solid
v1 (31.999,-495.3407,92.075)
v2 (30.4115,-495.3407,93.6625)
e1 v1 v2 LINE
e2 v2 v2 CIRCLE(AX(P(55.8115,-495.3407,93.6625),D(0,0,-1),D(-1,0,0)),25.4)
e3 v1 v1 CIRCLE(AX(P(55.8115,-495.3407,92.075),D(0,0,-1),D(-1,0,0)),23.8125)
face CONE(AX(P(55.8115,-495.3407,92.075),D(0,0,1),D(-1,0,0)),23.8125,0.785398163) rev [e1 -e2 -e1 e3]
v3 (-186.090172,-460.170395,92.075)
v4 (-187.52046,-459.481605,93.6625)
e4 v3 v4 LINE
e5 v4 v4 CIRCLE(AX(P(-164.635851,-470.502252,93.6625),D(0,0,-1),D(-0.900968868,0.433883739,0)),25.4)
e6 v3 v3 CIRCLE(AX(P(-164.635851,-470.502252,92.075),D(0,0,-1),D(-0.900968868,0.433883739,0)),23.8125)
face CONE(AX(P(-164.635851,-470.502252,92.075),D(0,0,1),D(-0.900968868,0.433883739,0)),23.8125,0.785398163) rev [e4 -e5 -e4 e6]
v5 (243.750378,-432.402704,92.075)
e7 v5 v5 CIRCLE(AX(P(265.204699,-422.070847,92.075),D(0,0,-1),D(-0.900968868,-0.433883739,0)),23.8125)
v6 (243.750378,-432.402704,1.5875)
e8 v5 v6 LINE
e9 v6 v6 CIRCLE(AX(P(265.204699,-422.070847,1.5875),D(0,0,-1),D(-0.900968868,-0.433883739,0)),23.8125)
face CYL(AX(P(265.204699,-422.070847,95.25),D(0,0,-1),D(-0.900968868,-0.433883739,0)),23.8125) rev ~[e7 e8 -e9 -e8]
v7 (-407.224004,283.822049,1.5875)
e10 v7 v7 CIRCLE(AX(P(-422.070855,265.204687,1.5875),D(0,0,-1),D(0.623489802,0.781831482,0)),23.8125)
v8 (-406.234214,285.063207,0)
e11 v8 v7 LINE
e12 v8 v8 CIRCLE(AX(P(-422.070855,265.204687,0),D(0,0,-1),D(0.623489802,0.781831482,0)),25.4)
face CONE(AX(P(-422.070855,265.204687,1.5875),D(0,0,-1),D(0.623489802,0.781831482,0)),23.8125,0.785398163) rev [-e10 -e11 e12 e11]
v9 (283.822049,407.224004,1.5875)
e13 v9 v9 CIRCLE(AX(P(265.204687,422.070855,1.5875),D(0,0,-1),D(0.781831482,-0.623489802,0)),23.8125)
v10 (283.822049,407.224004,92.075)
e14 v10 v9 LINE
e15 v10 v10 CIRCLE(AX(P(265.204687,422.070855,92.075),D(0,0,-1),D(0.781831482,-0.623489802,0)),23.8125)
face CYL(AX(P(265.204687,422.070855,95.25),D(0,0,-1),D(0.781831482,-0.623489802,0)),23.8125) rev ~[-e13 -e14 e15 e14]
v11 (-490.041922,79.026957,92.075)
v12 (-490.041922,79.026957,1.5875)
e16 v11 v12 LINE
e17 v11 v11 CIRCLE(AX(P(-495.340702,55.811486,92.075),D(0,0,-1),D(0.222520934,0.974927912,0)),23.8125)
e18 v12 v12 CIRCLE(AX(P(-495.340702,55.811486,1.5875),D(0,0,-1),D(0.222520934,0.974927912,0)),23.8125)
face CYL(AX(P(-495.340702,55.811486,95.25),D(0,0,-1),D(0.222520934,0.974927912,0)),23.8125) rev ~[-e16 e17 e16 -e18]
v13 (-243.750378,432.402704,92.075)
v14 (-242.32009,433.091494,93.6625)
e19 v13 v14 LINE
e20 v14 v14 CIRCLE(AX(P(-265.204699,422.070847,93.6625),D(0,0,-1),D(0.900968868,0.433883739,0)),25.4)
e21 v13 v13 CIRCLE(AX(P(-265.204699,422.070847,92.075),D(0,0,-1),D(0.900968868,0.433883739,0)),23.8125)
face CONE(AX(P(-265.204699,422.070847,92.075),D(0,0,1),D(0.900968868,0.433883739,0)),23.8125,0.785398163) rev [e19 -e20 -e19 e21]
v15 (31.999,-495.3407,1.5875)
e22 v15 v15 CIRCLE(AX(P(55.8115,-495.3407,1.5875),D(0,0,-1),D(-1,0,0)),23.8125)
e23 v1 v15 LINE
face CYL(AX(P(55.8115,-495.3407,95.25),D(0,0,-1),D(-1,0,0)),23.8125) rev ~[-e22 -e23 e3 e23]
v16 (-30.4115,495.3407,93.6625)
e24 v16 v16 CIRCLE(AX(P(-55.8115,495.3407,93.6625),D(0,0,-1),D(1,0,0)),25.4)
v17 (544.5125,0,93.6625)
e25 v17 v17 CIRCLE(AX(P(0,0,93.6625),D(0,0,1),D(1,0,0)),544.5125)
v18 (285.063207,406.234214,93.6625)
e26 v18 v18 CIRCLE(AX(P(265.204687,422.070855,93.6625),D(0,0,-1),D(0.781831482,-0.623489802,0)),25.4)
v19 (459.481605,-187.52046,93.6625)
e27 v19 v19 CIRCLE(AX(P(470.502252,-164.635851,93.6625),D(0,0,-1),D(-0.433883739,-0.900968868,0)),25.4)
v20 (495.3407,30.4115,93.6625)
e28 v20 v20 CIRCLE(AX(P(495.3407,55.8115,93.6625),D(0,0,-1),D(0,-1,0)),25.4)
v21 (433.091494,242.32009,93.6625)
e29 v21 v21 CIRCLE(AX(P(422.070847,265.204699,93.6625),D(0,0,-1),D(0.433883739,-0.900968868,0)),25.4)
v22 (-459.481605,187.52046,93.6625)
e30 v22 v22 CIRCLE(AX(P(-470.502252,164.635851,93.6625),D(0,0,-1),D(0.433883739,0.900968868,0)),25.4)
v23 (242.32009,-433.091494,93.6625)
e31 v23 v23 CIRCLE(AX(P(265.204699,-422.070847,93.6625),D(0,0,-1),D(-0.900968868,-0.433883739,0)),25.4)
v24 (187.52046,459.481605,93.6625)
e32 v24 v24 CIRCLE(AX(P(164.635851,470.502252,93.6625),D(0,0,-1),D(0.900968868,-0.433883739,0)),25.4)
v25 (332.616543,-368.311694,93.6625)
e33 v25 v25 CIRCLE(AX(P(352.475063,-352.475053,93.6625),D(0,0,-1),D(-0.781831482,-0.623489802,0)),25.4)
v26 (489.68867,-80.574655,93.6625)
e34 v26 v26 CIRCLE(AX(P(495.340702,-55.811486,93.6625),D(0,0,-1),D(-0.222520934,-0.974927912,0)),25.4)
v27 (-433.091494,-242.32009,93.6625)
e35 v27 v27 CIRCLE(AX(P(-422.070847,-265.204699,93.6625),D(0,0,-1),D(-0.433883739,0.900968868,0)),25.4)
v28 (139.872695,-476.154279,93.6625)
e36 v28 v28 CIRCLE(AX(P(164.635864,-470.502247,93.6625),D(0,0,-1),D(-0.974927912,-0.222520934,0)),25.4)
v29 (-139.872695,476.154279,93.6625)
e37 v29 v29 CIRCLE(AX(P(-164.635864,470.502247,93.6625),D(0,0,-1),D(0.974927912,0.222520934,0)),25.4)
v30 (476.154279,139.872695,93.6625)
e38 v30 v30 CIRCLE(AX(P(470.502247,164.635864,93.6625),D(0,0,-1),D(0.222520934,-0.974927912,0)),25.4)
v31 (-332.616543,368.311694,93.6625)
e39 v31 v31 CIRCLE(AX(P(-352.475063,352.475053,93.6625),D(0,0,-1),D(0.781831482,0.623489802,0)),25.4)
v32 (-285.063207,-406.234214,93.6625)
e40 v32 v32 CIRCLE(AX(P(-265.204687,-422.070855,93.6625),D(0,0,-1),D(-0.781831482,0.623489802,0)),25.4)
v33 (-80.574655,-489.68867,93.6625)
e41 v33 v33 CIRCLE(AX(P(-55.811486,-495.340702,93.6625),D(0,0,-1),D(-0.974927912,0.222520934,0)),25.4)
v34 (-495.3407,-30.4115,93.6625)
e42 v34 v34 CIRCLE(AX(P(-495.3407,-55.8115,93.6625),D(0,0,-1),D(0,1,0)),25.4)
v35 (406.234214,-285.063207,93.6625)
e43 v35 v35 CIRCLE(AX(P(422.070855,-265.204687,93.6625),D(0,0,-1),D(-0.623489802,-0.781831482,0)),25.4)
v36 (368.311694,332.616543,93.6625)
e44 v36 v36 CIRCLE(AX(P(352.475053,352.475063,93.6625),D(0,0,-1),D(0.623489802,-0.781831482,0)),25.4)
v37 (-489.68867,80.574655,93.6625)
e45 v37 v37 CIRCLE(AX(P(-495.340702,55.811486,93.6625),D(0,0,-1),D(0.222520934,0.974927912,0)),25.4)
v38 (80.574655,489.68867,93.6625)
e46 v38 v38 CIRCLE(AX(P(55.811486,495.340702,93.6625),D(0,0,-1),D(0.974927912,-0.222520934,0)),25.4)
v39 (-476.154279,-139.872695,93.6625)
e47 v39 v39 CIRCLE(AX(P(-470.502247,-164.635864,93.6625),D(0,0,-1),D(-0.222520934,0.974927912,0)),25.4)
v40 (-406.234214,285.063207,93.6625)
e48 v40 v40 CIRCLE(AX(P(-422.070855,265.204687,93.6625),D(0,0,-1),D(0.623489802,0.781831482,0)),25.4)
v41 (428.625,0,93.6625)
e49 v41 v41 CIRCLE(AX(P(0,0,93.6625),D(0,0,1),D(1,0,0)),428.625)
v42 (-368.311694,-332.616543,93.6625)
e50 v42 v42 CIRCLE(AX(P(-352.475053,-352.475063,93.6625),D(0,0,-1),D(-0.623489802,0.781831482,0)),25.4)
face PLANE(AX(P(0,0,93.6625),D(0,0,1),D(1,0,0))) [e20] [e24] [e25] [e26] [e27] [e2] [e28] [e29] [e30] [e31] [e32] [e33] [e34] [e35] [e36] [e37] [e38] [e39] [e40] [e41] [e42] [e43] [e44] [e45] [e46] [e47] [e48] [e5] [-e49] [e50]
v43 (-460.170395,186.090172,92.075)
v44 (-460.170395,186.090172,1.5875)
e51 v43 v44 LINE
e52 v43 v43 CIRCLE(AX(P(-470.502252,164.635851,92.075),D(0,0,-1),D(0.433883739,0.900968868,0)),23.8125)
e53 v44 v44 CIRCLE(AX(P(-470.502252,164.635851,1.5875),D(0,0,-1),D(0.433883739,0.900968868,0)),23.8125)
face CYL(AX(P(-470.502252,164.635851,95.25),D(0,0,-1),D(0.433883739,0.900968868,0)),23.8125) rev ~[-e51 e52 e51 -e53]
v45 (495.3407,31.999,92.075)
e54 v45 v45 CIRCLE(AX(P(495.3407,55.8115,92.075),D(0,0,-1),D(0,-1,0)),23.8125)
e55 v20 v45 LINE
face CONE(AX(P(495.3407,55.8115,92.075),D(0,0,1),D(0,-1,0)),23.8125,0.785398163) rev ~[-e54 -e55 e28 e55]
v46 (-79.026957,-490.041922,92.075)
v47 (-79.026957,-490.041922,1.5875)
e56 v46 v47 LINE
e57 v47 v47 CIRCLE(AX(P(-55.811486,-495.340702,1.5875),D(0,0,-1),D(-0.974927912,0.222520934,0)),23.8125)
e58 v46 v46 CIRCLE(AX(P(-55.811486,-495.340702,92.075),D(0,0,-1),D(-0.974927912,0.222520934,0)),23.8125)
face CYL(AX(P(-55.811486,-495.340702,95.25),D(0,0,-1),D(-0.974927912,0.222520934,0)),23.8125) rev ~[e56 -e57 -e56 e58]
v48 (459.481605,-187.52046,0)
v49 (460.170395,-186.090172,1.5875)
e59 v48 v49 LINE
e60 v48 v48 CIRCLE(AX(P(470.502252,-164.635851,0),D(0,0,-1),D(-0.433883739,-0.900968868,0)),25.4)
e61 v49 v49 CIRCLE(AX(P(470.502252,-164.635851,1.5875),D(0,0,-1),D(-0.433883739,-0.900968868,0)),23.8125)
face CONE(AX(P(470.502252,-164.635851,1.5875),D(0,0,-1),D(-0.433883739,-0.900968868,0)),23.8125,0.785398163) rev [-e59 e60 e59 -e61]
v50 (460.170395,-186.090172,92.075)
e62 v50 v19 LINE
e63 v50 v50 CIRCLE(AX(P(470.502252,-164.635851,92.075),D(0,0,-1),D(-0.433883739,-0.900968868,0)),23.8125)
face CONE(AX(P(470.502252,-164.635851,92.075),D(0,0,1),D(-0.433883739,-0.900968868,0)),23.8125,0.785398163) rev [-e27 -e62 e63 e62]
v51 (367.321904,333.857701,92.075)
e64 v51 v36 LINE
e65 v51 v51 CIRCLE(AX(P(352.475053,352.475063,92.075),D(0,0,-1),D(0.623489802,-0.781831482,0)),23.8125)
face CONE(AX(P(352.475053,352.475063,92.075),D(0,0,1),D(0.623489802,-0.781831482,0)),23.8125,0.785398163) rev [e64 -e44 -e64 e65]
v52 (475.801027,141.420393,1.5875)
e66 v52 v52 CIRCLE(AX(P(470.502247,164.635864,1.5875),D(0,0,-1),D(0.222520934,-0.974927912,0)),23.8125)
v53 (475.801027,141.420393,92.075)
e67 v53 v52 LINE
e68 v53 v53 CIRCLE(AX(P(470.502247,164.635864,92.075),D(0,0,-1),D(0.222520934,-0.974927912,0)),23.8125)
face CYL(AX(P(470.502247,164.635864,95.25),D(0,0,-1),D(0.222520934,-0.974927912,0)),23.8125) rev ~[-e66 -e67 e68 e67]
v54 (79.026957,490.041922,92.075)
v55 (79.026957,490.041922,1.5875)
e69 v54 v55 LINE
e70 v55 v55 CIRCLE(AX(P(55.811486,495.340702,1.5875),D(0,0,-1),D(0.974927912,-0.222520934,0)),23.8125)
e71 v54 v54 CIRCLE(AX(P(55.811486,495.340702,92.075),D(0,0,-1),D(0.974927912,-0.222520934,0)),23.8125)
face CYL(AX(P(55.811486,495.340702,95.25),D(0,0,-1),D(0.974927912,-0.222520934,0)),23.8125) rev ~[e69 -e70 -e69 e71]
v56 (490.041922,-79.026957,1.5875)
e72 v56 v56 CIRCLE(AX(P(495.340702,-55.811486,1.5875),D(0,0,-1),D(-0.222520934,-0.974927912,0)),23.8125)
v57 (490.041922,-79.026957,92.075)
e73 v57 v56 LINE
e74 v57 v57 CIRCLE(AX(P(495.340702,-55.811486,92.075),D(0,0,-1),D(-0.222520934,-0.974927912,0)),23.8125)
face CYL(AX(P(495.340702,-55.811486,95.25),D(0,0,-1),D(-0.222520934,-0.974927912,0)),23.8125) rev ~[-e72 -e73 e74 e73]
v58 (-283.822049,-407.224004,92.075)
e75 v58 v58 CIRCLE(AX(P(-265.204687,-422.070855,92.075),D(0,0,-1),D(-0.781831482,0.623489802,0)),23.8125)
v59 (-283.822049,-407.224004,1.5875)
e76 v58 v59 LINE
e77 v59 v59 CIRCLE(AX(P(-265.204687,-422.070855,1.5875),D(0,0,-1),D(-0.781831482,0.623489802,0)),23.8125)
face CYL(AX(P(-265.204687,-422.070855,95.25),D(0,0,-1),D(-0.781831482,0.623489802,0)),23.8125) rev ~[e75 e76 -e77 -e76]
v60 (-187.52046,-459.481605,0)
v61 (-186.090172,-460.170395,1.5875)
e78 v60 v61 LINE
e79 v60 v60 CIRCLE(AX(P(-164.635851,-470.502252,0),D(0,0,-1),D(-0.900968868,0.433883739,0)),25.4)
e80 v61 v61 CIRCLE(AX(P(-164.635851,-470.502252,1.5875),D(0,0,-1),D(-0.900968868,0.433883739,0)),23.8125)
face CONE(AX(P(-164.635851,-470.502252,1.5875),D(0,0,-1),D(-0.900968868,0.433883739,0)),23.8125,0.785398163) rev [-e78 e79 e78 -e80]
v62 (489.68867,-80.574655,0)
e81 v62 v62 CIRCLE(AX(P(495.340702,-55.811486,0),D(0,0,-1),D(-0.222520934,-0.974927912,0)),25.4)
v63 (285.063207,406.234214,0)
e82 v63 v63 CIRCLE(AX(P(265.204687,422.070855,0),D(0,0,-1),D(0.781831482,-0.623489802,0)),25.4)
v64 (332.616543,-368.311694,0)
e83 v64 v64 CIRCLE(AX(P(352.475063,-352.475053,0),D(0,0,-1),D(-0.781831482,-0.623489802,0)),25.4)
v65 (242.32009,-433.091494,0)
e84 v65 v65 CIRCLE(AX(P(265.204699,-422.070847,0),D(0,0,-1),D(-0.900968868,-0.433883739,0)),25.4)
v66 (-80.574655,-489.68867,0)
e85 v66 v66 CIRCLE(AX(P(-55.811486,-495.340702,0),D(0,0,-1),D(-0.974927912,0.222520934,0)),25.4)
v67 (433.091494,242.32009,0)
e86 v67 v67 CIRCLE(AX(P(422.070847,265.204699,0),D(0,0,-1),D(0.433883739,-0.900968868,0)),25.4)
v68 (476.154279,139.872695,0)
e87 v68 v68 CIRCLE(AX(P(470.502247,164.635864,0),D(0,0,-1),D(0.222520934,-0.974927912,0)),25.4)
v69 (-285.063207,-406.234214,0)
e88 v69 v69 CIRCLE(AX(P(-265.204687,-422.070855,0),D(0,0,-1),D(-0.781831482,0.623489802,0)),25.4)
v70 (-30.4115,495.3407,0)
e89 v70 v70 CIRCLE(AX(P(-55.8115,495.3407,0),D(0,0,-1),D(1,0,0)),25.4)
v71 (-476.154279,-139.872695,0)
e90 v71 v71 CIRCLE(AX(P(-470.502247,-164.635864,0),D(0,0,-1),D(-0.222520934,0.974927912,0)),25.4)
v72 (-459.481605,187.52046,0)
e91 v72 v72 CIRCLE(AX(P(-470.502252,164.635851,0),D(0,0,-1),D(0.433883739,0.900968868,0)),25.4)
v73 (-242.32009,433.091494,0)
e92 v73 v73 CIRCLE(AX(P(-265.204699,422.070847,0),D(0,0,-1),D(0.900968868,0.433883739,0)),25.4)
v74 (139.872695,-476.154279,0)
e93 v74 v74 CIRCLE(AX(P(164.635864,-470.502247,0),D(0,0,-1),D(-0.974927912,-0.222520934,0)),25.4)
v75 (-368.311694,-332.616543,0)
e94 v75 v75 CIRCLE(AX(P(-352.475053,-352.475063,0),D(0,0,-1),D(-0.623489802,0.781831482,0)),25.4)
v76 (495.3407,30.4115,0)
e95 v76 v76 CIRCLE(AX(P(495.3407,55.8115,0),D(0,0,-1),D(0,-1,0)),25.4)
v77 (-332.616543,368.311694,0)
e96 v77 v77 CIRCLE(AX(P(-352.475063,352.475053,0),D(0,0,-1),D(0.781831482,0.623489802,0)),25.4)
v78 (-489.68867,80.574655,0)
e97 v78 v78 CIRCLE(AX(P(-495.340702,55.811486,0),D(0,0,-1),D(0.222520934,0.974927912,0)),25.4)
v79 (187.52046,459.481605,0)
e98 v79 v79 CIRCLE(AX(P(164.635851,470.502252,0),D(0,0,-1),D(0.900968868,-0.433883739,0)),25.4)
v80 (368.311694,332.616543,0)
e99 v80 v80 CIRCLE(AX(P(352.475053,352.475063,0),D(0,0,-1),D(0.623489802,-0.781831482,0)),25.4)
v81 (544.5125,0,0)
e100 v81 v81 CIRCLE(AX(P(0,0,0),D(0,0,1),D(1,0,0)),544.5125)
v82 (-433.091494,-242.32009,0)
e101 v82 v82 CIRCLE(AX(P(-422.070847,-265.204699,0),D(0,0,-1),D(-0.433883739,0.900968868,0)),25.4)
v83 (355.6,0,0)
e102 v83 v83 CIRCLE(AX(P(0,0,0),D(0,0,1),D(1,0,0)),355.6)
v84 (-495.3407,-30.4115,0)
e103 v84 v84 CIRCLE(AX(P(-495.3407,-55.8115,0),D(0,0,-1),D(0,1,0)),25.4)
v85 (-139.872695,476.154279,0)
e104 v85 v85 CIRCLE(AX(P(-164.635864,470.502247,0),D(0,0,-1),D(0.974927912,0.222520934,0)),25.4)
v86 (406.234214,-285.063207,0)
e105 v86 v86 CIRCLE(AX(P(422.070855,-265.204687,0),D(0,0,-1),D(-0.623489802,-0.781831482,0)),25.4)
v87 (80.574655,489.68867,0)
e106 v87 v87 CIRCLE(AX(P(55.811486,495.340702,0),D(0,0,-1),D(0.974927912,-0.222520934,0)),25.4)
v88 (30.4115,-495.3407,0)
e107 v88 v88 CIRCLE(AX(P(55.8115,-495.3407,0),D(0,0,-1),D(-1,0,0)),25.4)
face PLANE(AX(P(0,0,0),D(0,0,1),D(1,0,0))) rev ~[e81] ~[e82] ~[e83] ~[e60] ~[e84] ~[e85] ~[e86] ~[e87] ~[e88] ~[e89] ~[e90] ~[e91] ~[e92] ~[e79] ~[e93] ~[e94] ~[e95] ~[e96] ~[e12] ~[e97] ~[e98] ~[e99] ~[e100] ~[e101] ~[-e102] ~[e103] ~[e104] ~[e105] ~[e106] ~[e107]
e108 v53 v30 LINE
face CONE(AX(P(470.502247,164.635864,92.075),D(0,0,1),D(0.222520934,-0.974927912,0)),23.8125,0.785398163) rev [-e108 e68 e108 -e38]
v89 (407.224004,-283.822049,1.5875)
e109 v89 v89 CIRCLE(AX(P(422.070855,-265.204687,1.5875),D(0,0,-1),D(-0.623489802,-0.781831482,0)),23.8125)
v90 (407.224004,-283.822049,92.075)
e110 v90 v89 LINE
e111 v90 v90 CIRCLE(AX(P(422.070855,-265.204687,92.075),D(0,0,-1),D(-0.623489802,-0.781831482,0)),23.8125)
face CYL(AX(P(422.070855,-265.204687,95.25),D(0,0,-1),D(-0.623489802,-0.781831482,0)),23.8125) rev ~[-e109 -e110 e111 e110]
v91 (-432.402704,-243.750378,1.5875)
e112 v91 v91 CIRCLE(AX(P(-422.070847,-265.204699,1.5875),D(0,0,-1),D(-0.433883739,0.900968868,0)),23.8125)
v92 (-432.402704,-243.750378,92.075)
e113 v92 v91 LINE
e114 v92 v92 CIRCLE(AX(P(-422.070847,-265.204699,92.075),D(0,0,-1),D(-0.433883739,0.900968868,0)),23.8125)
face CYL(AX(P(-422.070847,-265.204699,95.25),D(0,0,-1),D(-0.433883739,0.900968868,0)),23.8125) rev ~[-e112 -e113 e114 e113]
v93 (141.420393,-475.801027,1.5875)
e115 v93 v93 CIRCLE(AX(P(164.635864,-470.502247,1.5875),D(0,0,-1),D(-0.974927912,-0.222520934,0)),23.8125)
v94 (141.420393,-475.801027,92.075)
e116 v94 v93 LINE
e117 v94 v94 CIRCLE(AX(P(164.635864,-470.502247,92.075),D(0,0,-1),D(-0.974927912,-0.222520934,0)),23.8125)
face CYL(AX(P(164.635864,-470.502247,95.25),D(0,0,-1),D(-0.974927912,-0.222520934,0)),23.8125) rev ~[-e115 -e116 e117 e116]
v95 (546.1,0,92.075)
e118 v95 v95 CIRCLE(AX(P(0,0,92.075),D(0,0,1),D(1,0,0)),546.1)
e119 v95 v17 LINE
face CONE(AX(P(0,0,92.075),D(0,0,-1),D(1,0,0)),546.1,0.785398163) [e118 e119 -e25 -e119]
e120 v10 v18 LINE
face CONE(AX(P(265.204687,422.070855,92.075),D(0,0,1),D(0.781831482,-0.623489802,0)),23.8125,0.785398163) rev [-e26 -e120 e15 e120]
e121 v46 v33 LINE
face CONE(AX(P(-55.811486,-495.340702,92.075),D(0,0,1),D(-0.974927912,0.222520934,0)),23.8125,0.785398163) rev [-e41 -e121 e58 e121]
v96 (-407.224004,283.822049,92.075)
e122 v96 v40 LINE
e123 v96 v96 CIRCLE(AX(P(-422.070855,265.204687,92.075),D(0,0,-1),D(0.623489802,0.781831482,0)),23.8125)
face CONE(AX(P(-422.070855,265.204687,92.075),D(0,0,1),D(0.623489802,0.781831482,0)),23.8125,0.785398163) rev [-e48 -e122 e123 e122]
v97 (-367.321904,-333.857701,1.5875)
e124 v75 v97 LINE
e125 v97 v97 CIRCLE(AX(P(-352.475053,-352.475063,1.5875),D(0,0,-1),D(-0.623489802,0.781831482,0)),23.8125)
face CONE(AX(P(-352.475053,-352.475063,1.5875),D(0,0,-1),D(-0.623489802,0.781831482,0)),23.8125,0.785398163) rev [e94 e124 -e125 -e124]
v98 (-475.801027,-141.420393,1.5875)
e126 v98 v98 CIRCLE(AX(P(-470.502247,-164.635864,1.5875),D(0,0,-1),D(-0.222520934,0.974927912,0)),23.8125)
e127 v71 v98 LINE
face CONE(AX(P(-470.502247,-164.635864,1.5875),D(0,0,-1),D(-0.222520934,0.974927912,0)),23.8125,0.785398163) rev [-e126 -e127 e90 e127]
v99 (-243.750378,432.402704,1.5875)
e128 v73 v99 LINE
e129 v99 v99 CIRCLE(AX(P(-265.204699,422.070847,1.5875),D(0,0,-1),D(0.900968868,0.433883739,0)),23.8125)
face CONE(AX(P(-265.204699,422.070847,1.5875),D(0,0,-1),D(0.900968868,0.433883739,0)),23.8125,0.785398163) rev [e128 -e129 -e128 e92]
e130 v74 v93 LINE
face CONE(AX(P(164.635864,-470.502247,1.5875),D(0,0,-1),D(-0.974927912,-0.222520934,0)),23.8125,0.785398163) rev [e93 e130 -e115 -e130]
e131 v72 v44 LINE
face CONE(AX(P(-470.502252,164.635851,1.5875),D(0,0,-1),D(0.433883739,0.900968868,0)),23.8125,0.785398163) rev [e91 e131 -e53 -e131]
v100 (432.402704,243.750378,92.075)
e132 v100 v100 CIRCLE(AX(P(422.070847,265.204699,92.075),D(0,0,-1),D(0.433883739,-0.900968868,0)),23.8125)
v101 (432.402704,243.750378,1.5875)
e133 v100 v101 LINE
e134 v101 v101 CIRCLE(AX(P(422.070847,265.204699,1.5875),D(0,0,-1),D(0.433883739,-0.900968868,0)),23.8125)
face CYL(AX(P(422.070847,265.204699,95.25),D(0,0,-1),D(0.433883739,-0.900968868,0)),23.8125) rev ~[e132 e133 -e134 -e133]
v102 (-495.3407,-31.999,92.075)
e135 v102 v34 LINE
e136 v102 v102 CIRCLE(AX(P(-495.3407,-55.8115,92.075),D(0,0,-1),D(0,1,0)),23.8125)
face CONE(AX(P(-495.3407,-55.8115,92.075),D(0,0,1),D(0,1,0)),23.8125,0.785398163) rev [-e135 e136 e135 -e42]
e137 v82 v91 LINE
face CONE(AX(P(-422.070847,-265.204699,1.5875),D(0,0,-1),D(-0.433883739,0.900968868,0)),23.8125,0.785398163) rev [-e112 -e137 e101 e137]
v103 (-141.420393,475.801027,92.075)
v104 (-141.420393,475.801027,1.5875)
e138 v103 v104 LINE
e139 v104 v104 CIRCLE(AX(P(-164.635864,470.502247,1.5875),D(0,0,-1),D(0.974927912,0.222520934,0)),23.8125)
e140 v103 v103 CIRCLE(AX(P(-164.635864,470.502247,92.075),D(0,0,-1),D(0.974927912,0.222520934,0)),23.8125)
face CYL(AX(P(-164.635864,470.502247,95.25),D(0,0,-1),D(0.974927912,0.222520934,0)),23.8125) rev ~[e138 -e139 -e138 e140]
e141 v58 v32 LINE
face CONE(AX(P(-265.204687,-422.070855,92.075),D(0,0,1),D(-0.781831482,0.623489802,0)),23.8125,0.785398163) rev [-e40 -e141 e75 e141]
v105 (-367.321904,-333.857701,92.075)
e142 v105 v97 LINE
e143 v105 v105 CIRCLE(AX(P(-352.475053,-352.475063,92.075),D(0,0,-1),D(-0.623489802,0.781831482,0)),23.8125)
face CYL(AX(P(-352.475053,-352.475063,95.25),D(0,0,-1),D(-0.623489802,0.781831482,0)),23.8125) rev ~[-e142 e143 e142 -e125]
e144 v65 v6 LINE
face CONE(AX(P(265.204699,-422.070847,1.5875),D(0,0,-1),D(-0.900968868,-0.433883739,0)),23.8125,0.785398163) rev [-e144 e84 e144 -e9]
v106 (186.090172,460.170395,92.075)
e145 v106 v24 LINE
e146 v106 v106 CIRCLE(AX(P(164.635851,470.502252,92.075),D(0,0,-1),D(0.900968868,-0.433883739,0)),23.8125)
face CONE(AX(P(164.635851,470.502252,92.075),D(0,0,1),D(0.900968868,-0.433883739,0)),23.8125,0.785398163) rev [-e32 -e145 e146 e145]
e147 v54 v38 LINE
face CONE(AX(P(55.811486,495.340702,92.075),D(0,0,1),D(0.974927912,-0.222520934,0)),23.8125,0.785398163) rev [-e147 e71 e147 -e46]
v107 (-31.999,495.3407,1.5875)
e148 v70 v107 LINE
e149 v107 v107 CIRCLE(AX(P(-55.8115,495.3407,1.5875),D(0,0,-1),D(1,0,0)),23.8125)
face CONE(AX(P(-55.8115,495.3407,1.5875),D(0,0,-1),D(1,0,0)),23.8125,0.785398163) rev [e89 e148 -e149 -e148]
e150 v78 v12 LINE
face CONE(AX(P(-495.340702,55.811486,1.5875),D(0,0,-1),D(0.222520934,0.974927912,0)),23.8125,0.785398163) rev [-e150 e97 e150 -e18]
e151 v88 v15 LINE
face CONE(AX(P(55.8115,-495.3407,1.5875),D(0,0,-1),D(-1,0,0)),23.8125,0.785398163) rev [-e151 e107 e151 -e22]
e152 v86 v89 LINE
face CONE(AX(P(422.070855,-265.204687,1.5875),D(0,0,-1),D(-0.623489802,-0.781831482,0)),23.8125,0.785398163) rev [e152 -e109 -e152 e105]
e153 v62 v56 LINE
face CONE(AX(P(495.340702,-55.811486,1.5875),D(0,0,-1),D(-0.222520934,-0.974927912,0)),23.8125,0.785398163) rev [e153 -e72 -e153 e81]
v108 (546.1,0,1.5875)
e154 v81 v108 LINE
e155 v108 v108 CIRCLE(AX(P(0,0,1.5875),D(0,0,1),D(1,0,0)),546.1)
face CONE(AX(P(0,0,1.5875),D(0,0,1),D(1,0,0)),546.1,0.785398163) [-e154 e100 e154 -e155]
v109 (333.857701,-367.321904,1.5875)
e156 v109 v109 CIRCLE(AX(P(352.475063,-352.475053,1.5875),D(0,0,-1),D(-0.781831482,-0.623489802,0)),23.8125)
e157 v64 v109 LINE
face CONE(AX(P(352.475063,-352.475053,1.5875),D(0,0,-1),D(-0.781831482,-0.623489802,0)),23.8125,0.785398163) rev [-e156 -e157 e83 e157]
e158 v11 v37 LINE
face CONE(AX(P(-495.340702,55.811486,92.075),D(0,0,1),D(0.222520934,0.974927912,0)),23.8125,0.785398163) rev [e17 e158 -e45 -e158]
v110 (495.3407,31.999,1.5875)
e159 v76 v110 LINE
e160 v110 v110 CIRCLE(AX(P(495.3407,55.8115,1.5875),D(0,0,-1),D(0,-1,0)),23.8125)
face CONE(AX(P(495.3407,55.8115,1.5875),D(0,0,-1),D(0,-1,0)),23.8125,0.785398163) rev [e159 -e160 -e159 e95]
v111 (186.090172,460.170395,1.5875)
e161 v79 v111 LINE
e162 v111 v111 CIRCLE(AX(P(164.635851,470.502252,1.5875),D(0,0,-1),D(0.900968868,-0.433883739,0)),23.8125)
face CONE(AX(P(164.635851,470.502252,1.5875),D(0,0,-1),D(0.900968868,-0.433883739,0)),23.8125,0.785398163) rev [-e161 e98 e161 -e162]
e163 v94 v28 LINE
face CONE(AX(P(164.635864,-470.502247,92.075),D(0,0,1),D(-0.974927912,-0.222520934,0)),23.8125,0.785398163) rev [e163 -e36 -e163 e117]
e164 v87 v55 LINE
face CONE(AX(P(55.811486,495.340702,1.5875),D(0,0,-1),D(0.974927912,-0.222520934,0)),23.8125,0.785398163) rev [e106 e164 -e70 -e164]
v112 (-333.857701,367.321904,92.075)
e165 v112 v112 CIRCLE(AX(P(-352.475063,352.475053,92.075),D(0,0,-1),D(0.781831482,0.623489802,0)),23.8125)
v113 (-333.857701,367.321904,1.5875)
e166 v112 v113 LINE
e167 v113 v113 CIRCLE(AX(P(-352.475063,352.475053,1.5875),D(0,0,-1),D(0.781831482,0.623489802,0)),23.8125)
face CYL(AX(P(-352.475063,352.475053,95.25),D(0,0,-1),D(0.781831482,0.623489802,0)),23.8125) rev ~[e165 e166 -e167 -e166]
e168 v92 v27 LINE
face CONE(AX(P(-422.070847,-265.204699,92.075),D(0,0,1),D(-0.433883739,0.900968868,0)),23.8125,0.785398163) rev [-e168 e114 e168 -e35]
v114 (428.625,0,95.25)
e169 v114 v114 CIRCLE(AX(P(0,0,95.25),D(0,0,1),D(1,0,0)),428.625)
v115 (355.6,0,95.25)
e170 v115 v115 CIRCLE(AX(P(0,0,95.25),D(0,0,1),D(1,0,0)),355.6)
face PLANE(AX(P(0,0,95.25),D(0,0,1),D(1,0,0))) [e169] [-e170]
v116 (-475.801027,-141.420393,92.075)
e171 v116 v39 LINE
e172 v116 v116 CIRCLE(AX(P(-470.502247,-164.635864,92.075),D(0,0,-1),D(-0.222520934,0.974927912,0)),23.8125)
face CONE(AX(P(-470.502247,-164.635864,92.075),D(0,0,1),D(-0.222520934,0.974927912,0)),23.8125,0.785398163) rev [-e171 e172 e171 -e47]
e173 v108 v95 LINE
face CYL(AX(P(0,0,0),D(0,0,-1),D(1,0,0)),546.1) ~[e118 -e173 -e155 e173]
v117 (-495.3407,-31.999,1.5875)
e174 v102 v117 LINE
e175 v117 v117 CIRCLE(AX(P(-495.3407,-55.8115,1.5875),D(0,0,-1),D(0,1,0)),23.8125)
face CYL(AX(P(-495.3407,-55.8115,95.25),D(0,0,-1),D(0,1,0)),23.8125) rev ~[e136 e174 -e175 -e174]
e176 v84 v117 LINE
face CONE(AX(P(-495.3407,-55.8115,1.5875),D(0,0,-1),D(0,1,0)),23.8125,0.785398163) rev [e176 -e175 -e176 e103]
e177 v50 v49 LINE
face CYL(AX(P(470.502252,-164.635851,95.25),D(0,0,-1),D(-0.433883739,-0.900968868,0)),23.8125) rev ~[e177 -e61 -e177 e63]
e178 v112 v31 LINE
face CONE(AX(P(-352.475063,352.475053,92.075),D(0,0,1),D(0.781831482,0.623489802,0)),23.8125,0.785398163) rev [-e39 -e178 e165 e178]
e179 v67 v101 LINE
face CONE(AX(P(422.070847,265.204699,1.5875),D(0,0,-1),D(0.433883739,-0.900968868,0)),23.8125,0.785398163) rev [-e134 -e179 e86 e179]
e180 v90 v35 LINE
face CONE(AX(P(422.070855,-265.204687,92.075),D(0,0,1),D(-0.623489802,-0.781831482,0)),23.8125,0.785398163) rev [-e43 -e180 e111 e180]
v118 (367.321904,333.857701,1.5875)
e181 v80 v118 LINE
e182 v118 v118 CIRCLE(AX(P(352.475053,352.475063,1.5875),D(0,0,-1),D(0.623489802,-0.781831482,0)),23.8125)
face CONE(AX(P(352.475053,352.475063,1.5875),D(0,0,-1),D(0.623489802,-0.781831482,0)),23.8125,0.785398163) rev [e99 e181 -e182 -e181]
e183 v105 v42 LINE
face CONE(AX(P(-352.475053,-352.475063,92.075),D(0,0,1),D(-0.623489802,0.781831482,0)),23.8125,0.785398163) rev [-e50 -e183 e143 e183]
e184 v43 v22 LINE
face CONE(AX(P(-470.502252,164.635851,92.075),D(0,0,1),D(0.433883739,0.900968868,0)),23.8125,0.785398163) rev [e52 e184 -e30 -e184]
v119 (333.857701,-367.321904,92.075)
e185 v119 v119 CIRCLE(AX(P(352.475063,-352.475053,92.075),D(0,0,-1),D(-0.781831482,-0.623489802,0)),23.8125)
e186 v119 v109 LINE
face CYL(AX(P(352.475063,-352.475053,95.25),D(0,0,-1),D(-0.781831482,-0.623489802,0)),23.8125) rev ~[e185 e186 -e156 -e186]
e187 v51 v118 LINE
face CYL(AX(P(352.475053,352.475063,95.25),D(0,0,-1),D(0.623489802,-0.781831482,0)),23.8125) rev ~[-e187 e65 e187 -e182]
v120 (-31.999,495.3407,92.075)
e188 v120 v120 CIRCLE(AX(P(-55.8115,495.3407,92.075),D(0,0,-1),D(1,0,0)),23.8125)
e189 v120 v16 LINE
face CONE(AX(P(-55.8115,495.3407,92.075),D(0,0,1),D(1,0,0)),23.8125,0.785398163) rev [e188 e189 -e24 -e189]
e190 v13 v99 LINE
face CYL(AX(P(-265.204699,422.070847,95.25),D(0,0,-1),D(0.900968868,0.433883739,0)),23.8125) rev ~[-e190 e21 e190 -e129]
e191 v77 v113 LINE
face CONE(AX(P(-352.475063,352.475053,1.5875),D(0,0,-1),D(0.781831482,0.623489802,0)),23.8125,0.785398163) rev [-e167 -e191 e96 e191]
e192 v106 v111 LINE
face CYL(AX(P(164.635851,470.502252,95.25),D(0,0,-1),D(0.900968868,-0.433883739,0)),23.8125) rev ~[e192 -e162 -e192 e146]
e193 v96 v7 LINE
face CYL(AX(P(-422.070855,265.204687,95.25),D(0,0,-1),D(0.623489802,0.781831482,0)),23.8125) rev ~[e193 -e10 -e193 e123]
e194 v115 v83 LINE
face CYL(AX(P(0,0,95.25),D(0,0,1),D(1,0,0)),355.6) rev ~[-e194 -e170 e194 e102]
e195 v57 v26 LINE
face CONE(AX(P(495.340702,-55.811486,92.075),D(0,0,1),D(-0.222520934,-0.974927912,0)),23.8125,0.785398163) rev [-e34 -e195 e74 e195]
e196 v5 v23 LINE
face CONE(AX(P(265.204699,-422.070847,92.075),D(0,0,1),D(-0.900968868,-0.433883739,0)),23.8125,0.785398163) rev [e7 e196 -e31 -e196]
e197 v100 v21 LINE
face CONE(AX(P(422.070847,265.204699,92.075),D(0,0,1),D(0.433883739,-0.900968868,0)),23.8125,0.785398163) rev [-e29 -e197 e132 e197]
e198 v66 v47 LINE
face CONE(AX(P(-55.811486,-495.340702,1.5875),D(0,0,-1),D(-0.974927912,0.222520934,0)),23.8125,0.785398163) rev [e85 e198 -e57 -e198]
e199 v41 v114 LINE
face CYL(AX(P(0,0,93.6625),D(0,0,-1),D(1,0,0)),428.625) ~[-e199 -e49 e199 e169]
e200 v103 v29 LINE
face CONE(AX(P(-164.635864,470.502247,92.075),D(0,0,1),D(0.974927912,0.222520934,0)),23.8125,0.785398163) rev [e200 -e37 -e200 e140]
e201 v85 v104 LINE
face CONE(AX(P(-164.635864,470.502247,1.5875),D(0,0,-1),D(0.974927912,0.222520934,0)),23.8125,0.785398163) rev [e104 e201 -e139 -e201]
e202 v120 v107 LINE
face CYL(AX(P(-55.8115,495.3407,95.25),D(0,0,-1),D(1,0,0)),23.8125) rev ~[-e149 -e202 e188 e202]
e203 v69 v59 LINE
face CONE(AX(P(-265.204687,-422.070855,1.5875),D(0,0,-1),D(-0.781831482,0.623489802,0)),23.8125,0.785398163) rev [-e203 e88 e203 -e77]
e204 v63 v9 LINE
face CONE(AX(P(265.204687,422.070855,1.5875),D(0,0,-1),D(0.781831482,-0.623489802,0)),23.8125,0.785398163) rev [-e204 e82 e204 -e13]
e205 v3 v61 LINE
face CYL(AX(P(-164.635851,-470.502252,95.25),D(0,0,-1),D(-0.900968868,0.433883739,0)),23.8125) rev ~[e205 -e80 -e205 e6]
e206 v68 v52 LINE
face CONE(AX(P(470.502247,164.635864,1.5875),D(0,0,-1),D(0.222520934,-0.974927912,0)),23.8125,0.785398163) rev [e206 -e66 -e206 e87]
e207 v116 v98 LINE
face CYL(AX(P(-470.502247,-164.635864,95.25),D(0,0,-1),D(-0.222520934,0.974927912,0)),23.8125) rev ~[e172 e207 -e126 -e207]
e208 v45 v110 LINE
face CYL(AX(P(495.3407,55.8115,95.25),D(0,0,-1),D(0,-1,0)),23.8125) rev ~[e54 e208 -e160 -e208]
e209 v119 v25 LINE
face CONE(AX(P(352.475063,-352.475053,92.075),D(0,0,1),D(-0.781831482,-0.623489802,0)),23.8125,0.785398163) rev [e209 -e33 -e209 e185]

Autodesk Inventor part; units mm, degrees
ref_plane "YZ Plane" through (0, 0, 0) normal (1, 0, 0) x (0, 1, 0)
ref_plane "XY Plane" through (0, 0, 0) normal (0, 0, 1) x (1, 0, 0)
sketch "Sketch1" plane through (0, 0, 0) normal (0, 0, 1) x (1, 0, 0)
  circle A0 centre (0, 0) radius 546.1
  dimension "d0" = 1092.2
extrude "Extrusion: OD" add sketch "Sketch1" along normal blind 93.6625
sketch "Sketch2" plane through (0, 0, 93.6625) normal (0, 0, 1) x (1, 0, 0)
  circle A0 centre (0, 0) radius 428.625
  dimension "d3" = 857.25
extrude "Extrusion: RF" add sketch "Sketch2" along normal blind 1.5875
sketch "Sketch3" plane through (0, 0, 95.25) normal (0, 0, 1) x (1, 0, 0)
  circle A0 centre (0, -6.35) radius 381
  point P0 (0, 0)
  dimension "d6" = 762
  dimension "d32" = 6.35
extrude "Extrusion: ID Large" [suppressed]
sketch "Sketch4" plane through (0, 0, 95.25) normal (0, 0, 1) x (1, 0, 0)
  circle A0 centre (0, 0) radius 355.6
  circle A1 centre (0, 0) radius 428.625 projected
  dimension "d9" = 711.2
extrude "Extrusion: ID Small" cut sketch "Sketch4" along normal through all both and the other way through all contours A0
sketch "Sketch5" plane through (0, 0, 95.25) normal (0, 0, 1) x (1, 0, 0)
  line L0 (-495.3407, -55.8115) -> (495.3407, 55.8115)
  line L1 (-495.3407, -55.8115) -> (501.6093, -55.8115) construction
  point P0 (0, 0)
  point P1 (0, 0)
  dimension "d12" = 996.95
  dimension "d13" = 6.429
hole "Hole: Bolt" at (495.3407, 55.8115, 95.25) direction (0, 0, -1) diameter 47.625 end through all
chamfer "Chamfer: Bolt hole" distance 1.5875 angle 45 2 edges at (495.3407, 79.624, 93.6625) (495.3407, 79.624, 0)
pattern_circular "Circular Pattern: Bolt hole" count 28 over 360 about axis through (0, 0, -10) along (0, 0, 1) of "Hole: Bolt", "Chamfer: Bolt hole"
chamfer "Chamfer: OD" distance 1.5875 angle 45 2 edges at (-546.1, 0, 93.6625) (-546.1, 0, 0)
chamfer "Chamfer2" [suppressed]
fillet "Fillet2" [suppressed]
ref_plane "Work Plane1" through (0, 546.1, 0) normal (0, 1, 0) x (-1, 0, 0)
sketch "Sketch6" plane through (0, 546.1, 0) normal (0, 1, 0) x (-1, 0, 0)
  point P0 (0, 0)
  point P1 (0, 47.625)
  dimension "d36" = 47.625
hole "Hole2" [suppressed]
pattern_circular "Circular Pattern2" [suppressed]
equation "\"d0\" = od"
equation "\"d1\" = thk - rf"
equation "\"d3\" = od_rf"
equation "\"d4\" = rf"
equation "\"d6\" = id_large"
equation "\"d9\" = id_large - 2 * r_diff_id"
equation "\"d36\" = 0.5 * d4 + 0.5 * d1"
equation "\"od\" = 1092.2"
equation "\"thk\" = 95.25"
equation "\"rf\" = 1.5875"
equation "\"od_rf\" = 857.25"
equation "\"id_large\" = 762"
equation "\"r_diff_id\" = 25.4"
properties part number "A1-19010-100-01 30in CL300 RFBL flange - raw" material "A105N"
